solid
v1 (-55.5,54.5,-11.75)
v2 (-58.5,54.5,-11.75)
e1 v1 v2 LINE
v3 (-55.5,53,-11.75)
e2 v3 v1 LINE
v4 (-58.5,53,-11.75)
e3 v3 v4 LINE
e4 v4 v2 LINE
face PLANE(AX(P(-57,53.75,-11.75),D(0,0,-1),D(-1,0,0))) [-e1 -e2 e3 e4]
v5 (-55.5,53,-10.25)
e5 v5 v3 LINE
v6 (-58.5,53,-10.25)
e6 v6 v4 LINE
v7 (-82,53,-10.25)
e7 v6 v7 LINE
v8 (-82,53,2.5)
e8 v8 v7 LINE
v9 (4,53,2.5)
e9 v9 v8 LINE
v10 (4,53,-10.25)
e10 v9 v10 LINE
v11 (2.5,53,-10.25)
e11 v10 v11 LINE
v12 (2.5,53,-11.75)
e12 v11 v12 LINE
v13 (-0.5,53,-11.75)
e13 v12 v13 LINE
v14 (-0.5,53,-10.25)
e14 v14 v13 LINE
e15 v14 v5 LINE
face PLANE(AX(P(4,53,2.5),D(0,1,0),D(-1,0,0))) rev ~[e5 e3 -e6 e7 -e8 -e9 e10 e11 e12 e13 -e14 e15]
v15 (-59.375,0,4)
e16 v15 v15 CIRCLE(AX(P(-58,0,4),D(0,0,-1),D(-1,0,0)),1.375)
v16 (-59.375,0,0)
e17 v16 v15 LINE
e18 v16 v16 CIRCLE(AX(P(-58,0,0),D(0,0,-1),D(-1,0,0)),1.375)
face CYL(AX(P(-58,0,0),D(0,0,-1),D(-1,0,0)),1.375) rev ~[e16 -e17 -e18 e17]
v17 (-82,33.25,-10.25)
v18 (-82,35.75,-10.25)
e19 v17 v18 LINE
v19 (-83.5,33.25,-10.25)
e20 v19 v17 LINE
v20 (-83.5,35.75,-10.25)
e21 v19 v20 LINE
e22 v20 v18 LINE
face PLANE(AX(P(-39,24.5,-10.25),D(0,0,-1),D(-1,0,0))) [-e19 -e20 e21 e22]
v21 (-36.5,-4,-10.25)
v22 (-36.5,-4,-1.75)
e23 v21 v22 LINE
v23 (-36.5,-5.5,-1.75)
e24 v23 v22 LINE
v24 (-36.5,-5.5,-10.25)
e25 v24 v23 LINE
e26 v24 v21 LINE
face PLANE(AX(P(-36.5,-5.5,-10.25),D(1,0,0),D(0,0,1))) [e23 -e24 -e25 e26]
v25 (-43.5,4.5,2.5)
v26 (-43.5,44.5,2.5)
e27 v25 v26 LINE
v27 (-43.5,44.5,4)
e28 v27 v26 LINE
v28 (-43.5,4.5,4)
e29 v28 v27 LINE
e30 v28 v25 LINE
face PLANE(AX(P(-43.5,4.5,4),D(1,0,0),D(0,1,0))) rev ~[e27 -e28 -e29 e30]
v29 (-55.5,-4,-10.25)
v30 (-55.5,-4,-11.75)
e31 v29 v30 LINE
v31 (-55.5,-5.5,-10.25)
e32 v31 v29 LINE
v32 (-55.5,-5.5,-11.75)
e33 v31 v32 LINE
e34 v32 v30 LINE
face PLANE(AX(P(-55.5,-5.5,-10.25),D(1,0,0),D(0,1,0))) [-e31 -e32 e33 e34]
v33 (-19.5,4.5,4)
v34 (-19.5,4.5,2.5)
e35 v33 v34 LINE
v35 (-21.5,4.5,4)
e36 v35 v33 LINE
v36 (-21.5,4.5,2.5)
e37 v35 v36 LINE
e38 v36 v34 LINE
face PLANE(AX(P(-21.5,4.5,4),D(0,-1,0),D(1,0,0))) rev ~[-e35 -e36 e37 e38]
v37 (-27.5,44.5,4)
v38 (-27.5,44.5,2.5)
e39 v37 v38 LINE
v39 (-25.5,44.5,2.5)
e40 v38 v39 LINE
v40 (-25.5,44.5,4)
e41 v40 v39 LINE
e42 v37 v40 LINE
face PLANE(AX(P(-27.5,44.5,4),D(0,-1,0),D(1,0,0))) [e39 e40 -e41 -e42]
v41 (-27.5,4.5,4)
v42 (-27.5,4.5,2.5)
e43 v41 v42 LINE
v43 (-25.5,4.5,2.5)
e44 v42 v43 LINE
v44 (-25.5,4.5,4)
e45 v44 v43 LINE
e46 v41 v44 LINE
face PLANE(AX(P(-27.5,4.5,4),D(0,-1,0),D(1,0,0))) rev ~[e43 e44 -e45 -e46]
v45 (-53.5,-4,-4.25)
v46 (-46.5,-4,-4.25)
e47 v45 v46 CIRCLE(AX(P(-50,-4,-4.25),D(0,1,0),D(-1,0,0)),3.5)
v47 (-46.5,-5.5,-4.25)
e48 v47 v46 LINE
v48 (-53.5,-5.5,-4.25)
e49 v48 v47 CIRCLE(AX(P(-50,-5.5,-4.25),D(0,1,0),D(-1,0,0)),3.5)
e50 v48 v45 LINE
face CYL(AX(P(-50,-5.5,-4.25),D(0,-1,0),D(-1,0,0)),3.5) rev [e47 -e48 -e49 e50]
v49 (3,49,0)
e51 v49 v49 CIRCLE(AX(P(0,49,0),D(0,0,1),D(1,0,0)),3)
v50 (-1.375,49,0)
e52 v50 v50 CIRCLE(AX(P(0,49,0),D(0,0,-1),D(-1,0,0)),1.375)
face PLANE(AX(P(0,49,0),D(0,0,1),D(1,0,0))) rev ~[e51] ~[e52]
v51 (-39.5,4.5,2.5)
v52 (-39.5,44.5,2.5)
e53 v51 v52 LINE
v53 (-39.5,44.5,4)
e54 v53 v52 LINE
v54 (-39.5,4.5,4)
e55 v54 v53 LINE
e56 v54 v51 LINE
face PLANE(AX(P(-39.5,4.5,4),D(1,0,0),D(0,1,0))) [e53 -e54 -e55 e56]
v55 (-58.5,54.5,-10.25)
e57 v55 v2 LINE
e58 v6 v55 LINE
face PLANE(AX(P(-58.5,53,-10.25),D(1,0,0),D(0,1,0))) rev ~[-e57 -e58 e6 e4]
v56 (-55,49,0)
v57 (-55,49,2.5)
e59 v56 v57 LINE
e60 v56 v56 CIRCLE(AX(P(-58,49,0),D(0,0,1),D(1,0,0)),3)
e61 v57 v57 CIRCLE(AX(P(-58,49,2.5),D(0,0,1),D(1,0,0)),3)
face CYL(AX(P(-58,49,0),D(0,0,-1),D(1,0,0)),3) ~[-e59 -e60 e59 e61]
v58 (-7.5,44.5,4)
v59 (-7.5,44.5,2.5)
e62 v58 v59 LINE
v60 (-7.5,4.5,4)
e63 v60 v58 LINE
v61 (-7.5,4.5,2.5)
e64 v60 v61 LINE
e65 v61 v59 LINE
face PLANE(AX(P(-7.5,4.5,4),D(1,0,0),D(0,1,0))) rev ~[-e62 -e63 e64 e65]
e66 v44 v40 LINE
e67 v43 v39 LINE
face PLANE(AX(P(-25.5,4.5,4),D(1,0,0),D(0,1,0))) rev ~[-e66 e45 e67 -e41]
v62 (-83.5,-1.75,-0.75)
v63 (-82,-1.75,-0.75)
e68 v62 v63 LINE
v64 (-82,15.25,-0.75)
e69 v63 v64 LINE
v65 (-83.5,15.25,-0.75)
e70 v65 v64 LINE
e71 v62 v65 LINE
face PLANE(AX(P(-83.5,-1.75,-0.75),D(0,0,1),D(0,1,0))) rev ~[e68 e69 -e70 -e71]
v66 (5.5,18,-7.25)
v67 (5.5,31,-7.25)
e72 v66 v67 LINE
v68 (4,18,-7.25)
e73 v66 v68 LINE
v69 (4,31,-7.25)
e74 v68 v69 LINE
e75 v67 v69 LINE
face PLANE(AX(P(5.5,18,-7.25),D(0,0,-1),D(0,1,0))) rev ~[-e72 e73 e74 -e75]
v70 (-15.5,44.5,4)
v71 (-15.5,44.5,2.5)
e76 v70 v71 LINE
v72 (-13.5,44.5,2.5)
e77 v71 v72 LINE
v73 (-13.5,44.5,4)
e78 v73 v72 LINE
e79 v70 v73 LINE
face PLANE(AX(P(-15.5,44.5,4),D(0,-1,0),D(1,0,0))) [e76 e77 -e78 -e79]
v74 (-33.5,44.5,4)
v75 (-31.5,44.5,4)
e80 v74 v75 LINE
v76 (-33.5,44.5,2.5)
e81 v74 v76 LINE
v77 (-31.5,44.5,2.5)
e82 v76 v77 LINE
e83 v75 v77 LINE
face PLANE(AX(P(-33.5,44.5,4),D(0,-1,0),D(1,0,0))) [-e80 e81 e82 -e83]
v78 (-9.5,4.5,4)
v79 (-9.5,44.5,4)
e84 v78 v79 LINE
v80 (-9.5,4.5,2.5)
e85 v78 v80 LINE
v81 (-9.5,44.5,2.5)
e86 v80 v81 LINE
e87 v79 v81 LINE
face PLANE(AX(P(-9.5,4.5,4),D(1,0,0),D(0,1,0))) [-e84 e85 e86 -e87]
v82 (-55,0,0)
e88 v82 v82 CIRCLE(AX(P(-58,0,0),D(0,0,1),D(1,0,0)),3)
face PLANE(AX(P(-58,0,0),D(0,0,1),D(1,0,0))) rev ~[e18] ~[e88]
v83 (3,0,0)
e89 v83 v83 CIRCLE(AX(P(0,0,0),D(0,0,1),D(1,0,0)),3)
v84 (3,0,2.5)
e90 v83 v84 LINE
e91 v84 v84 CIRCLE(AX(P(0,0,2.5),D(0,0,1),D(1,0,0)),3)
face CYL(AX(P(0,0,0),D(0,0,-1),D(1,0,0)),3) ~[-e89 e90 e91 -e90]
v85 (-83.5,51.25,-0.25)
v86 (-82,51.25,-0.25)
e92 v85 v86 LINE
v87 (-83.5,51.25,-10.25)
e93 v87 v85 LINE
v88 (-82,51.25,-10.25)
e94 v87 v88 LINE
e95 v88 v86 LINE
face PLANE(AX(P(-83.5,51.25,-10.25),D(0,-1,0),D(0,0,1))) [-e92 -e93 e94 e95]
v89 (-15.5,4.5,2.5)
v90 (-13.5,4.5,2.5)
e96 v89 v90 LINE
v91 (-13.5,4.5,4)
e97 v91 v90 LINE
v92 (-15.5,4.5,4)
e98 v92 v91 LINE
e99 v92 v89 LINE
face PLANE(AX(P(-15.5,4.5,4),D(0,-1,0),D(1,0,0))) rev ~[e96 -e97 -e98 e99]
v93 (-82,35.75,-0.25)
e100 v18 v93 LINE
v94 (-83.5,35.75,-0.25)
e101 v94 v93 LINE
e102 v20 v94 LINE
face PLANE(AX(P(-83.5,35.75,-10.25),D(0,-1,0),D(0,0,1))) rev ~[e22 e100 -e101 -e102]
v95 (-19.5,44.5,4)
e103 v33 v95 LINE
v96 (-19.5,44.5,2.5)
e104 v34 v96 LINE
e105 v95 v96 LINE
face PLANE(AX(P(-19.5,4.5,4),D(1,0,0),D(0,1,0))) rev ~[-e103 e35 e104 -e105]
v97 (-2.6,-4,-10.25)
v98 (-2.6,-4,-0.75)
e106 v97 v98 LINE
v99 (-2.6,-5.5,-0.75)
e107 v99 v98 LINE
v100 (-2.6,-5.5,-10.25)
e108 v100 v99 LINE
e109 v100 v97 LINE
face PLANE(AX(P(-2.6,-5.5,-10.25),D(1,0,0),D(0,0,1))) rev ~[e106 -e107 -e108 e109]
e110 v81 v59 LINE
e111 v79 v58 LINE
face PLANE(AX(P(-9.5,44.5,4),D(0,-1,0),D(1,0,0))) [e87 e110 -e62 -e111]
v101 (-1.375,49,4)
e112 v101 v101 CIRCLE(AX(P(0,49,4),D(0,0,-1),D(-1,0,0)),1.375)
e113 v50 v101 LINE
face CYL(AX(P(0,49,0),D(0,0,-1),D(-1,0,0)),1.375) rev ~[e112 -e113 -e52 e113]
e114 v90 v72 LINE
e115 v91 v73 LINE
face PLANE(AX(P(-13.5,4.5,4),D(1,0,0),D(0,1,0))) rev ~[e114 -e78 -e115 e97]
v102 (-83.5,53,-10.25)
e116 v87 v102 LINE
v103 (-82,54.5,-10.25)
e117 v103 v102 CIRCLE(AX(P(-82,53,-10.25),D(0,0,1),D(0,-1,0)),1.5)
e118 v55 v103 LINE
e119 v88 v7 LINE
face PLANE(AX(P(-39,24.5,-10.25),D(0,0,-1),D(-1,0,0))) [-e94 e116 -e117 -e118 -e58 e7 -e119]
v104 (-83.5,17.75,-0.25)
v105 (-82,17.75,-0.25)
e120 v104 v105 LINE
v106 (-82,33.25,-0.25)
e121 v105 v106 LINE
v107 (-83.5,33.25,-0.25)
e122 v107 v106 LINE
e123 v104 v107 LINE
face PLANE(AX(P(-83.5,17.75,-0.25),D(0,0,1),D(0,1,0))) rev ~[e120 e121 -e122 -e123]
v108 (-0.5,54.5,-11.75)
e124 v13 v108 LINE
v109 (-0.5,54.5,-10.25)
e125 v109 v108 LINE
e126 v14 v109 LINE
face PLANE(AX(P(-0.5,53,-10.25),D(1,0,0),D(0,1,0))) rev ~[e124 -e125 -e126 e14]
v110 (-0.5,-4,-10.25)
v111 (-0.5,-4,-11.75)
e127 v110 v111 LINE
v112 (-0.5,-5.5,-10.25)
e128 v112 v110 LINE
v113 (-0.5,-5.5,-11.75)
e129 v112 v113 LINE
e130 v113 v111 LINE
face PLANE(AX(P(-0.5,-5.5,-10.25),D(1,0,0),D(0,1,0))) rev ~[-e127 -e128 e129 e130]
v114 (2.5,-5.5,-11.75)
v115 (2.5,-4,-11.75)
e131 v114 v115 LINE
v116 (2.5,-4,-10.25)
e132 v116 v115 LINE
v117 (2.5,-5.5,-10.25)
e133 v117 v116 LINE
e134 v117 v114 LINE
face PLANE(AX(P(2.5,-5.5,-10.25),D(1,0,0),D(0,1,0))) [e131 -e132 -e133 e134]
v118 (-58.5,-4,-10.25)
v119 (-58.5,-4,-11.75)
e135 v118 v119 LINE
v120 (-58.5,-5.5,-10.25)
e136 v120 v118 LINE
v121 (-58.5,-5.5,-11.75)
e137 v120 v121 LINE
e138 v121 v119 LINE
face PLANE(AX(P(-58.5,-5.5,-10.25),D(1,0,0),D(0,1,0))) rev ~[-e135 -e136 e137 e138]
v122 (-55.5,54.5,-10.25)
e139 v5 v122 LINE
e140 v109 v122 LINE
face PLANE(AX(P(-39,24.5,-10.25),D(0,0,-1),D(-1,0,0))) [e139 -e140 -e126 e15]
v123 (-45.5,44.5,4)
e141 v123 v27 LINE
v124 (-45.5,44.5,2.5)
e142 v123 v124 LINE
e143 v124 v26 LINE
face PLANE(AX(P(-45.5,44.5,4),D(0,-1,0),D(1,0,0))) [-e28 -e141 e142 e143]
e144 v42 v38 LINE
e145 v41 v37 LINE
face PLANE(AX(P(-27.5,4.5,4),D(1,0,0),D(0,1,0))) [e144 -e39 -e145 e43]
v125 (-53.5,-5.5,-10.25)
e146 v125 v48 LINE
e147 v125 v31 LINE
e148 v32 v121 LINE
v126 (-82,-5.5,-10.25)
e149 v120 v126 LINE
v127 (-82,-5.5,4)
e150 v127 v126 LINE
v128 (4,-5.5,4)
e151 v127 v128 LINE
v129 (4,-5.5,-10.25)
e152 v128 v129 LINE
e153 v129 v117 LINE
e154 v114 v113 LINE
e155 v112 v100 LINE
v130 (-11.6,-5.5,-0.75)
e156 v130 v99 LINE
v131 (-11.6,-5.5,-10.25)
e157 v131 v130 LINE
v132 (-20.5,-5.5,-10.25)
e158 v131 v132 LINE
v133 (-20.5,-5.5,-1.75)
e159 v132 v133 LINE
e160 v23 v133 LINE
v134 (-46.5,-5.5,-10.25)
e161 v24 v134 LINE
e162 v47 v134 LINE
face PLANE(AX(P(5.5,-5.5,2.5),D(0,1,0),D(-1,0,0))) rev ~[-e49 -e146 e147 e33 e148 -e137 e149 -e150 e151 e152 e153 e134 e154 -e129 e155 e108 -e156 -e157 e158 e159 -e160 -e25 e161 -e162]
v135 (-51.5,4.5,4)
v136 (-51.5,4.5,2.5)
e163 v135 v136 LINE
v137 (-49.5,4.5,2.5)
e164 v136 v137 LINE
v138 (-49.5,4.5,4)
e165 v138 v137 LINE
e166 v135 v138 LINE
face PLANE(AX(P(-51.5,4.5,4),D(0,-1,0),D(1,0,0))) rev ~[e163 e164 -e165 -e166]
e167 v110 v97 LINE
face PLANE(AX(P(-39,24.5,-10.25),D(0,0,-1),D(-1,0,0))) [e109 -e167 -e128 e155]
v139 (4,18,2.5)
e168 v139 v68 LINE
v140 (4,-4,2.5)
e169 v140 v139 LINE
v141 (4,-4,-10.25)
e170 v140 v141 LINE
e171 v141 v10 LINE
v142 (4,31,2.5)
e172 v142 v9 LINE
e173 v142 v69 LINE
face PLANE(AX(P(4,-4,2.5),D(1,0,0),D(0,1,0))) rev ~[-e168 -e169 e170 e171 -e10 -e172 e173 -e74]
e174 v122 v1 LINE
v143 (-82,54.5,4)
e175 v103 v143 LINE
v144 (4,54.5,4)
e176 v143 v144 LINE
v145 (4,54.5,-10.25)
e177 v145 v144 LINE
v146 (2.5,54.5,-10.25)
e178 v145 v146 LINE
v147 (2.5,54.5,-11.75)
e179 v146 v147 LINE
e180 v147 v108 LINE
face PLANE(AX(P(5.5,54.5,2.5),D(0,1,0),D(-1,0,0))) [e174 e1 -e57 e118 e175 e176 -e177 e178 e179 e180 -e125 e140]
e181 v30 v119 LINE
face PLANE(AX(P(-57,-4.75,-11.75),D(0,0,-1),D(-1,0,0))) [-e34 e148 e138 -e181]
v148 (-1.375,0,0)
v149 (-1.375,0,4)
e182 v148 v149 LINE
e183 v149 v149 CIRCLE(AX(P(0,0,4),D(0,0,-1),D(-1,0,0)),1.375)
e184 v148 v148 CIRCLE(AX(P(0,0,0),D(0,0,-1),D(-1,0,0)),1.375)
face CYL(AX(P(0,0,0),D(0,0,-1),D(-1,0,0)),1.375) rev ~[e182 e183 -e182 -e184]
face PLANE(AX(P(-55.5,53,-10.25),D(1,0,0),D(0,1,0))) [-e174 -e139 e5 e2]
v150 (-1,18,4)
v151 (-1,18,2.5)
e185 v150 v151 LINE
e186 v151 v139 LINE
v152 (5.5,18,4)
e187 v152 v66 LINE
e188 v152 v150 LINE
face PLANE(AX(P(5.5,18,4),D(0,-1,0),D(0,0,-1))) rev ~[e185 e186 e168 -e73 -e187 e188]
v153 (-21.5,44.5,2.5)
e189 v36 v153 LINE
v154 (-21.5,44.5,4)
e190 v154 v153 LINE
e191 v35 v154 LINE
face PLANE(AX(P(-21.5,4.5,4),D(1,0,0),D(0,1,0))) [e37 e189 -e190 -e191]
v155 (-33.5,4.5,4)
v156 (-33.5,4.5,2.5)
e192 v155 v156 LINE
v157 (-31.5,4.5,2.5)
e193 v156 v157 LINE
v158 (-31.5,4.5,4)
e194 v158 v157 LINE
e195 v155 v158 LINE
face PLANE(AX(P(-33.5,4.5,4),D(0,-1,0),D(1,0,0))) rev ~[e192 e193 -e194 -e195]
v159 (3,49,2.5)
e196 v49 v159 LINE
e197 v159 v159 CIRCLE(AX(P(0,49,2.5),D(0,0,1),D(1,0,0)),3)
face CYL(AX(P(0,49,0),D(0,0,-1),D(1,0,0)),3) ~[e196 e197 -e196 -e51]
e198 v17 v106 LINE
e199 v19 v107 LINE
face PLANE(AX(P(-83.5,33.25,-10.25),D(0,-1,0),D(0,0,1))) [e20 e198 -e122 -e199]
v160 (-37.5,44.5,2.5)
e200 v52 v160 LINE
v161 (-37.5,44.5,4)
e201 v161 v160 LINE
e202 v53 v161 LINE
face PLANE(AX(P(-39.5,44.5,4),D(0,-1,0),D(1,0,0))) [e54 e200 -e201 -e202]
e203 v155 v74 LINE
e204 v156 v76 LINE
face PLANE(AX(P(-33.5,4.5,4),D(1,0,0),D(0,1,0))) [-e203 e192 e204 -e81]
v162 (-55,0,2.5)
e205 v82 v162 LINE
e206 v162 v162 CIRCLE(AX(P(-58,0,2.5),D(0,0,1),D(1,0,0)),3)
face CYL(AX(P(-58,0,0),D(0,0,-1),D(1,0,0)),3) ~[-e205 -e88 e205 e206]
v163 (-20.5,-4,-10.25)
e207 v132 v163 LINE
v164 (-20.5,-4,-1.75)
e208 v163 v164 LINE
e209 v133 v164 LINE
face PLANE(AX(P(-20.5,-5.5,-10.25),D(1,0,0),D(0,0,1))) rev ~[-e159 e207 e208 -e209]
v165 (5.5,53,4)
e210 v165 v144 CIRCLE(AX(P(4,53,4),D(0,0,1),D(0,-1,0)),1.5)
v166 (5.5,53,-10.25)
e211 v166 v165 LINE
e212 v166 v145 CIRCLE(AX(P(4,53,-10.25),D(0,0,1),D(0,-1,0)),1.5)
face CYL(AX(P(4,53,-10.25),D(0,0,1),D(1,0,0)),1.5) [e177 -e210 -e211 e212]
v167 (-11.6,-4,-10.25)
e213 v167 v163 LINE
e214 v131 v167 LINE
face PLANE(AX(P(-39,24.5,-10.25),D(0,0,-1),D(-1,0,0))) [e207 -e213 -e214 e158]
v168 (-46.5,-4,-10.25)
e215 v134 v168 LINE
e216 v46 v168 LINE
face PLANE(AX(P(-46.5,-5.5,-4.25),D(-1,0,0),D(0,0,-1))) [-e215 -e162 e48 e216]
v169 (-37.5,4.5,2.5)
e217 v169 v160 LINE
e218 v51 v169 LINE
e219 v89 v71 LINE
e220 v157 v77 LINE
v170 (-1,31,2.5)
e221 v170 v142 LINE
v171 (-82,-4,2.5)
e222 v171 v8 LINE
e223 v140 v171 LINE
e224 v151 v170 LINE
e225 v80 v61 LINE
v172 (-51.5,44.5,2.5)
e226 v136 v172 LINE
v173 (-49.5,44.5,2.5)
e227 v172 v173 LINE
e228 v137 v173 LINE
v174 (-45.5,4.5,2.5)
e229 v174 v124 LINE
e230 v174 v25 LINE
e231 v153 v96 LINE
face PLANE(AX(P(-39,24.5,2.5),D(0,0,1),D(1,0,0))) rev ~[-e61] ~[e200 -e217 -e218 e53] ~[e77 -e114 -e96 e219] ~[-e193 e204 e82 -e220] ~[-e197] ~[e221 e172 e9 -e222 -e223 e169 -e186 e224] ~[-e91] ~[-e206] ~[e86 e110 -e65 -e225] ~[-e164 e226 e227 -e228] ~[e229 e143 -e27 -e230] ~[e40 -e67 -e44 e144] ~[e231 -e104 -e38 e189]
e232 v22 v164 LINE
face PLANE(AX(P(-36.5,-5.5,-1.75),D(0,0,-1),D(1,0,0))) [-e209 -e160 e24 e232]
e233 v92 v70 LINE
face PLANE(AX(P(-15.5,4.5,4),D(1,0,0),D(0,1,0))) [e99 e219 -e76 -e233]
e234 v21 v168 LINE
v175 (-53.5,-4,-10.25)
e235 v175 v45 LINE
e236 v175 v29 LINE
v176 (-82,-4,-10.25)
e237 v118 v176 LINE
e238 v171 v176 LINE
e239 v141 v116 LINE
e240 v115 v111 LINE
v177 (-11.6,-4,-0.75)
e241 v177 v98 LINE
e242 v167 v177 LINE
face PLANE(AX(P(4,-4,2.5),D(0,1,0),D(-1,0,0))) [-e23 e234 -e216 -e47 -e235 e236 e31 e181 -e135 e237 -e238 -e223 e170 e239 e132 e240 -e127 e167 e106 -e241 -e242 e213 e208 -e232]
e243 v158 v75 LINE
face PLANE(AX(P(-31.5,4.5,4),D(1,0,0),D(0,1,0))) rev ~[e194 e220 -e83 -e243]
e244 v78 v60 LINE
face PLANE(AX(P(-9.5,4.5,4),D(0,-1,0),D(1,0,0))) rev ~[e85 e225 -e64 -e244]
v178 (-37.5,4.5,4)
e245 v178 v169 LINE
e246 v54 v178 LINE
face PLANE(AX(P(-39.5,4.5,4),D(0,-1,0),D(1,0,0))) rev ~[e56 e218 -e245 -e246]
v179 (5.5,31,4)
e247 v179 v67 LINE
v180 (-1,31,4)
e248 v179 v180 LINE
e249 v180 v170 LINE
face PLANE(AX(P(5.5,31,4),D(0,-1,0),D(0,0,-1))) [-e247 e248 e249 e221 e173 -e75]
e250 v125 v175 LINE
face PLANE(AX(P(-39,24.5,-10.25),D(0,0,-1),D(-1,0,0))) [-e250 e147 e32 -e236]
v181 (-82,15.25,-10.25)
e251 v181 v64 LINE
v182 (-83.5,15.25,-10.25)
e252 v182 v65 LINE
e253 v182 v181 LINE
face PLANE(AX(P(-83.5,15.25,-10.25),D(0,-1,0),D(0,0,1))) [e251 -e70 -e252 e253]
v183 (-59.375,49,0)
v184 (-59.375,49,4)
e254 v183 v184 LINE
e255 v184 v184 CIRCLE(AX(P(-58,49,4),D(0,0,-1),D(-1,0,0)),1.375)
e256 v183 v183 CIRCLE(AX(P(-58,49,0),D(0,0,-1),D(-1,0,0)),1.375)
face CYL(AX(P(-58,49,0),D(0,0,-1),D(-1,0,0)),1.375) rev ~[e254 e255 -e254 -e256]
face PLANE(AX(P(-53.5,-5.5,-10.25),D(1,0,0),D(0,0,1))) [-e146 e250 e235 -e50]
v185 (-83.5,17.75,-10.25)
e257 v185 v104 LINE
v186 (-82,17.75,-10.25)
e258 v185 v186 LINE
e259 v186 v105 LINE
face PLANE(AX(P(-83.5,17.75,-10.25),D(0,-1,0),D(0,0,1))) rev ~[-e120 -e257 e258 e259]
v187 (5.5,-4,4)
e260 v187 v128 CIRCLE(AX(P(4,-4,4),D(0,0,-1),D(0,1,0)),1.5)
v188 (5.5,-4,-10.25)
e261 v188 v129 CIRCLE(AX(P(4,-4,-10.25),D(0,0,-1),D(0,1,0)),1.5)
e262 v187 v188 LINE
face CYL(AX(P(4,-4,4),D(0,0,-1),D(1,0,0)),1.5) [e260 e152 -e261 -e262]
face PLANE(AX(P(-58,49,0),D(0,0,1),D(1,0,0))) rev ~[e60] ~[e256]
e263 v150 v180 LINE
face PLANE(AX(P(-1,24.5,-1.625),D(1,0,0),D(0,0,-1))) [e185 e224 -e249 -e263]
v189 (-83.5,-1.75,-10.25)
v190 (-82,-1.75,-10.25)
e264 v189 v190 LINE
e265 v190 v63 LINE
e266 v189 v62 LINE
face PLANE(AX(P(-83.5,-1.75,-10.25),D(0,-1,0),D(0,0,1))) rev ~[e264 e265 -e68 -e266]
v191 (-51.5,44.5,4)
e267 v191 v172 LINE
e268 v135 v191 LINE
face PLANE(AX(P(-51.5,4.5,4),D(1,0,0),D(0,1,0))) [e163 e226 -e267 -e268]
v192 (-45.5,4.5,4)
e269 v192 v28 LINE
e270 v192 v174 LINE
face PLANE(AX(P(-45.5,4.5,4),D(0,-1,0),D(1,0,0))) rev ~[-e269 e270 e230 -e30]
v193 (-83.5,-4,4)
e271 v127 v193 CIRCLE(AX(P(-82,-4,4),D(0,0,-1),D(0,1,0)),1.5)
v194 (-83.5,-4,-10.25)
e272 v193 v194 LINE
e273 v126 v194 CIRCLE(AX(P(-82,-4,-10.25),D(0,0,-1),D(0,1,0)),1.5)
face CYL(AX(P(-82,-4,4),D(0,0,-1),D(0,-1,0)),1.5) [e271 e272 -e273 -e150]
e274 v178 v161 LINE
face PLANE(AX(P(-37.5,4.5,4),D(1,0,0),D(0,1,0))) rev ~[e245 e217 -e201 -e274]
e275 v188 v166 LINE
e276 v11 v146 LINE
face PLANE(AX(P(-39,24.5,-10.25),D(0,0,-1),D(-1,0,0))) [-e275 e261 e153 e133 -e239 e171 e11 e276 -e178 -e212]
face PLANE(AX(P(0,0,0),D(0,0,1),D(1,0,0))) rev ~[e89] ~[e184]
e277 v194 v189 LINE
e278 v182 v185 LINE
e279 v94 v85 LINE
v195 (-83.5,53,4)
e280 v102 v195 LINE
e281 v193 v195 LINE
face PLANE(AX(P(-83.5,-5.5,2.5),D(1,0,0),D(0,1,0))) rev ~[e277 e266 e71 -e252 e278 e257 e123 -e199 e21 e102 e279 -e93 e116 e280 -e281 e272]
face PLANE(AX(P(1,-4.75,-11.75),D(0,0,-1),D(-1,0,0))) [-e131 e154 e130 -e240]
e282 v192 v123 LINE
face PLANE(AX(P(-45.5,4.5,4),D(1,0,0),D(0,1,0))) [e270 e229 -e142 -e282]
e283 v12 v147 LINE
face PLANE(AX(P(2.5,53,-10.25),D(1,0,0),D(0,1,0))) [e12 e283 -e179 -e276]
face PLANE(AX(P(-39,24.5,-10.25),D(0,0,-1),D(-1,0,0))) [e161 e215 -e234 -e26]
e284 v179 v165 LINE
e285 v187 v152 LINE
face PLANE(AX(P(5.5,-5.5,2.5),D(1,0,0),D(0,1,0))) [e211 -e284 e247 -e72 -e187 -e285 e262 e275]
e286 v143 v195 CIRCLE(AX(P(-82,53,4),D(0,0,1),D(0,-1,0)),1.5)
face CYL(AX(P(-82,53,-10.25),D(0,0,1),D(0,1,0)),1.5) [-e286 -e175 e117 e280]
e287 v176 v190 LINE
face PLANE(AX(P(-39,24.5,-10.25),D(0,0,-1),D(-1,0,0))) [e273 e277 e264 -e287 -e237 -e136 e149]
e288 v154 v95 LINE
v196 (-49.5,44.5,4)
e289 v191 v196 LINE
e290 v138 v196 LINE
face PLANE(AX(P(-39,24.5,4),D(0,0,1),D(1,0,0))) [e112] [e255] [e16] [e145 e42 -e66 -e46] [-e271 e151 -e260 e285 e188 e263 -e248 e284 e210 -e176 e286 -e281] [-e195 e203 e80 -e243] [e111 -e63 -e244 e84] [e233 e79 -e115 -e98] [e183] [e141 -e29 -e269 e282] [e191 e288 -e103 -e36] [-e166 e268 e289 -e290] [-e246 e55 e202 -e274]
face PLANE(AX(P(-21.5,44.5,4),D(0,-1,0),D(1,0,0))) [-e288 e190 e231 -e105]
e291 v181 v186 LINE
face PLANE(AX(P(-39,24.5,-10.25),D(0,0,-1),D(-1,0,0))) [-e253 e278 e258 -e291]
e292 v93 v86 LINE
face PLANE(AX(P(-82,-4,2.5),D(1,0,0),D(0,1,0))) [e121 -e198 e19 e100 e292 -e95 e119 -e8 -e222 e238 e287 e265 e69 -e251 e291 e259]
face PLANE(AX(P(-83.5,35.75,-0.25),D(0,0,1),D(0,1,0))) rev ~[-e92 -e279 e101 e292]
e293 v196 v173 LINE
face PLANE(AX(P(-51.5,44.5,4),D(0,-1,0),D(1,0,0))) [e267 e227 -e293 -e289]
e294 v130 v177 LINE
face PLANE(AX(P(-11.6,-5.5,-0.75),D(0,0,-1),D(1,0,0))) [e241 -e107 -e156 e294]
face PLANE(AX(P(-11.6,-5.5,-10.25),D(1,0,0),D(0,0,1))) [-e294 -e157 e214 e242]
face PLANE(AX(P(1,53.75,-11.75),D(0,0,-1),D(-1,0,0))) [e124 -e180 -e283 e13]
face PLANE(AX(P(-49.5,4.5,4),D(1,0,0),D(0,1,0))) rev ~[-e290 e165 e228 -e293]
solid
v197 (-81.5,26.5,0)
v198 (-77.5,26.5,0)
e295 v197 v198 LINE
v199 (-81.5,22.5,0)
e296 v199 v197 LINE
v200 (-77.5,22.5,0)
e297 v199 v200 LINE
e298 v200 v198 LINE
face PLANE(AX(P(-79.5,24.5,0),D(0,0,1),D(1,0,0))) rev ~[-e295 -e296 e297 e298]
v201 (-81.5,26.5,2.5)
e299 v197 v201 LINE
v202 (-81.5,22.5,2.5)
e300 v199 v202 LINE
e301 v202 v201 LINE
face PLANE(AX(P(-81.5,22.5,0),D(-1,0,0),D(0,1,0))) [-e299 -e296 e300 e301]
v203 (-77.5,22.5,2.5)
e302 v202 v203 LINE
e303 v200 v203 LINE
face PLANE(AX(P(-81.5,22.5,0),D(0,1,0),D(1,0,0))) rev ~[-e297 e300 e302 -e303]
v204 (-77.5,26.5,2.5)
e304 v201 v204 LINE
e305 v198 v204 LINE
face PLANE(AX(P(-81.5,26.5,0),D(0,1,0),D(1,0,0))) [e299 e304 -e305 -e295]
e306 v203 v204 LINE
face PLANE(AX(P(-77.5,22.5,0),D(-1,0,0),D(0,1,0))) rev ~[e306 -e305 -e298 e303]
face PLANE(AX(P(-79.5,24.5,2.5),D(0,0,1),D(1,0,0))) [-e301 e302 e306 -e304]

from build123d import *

# Parameters (mm, degrees)
SKETCH1_R             = 3
BOSS_EXTRUDE1_DEPTH   = 2.5
BOSS_EXTRUDE1_2_DEPTH = 2.5
BOSS_EXTRUDE1_3_DEPTH = 2.5
BOSS_EXTRUDE1_4_DEPTH = 2.5
SKETCH1_W             = 4
SKETCH1_H             = 4
BOSS_EXTRUDE1_5_DEPTH = 2.5
SKETCH2_W             = 89
SKETCH2_H             = 60
BOSS_EXTRUDE2_DEPTH   = 1.5
SKETCH3_W             = 89
SKETCH3_H             = 60
SKETCH3_W_2           = 86
SKETCH3_H_2           = 57
BOSS_EXTRUDE3_DEPTH   = 12.75
SKETCH4_W             = 10
SKETCH4_H             = 15.5
SKETCH4_W_2           = 9.5
SKETCH4_H_2           = 17
CUT_EXTRUDE1_DEPTH    = 1.5
SKETCH5_W             = 16
SKETCH5_H             = 8.5
SKETCH5_W_2           = 9
SKETCH5_H_2           = 9.5
CUT_EXTRUDE2_DEPTH    = 1.5
SKETCH6_W             = 11.25
SKETCH6_H             = 13
CUT_EXTRUDE3_DEPTH    = 6.5
SKETCH7_R             = 1.375
CUT_EXTRUDE4_DEPTH    = 5
SKETCH10_W            = 2
SKETCH10_H            = 40
CUT_EXTRUDE7_DEPTH    = 15.25
FILLET2_R             = 1.5
SKETCH12_W            = 3
SKETCH12_H            = 1.5
BOSS_EXTRUDE4_DEPTH   = 1.5


with BuildPart() as part:
    # Sketch1 → Boss-Extrude1 (new body)
    with BuildSketch(Plane.XY):
        Circle(SKETCH1_R)
    extrude(amount=BOSS_EXTRUDE1_DEPTH)



with BuildPart() as body_2:
    # Sketch1 → Boss-Extrude1 2 (new body)
    with BuildSketch(Plane.XY):
        with Locations((0, 49)):
            Circle(SKETCH1_R)
    extrude(amount=BOSS_EXTRUDE1_2_DEPTH)


with BuildPart() as body_3:
    # Sketch1 → Boss-Extrude1 3 (new body)
    with BuildSketch(Plane.XY):
        with Locations((-58, 0)):
            Circle(SKETCH1_R)
    extrude(amount=BOSS_EXTRUDE1_3_DEPTH)


with BuildPart() as body_4:
    # Sketch1 → Boss-Extrude1 4 (new body)
    with BuildSketch(Plane.XY):
        with Locations((-58, 49)):
            Circle(SKETCH1_R)
    extrude(amount=BOSS_EXTRUDE1_4_DEPTH)


with BuildPart() as body_5:
    # Sketch1 → Boss-Extrude1 5 (new body)
    with BuildSketch(Plane.XY):
        with Locations((-79.5, 24.5)):
            Rectangle(SKETCH1_W, SKETCH1_H)
    extrude(amount=BOSS_EXTRUDE1_5_DEPTH)


with BuildPart() as part_1:
    add(part.part)

    add(body_2.part)  # Boss-Extrude2 merges body 2

    add(body_3.part)  # Boss-Extrude2 merges body 3

    add(body_4.part)  # Boss-Extrude2 merges body 4
    # Sketch2 → Boss-Extrude2 (add)
    with BuildSketch(Plane.XY.offset(2.5)):
        with Locations((-39, 24.5)):
            Rectangle(SKETCH2_W, SKETCH2_H)
    extrude(amount=BOSS_EXTRUDE2_DEPTH)

    # Sketch3 → Boss-Extrude3 (add)
    with BuildSketch(Plane(origin=(0, 0, 2.5), x_dir=(-1, 0, 0), z_dir=(0, 0, -1))):
        with Locations((39, 24.5)):
            Rectangle(SKETCH3_W, SKETCH3_H)
        with Locations((39, 24.5)):
            Rectangle(SKETCH3_W_2, SKETCH3_H_2, mode=Mode.SUBTRACT)
    extrude(amount=BOSS_EXTRUDE3_DEPTH)

    # Sketch4 → Cut-Extrude1 (cut)
    with BuildSketch(Plane.ZY.offset(83.5)):
        with Locations((-5.25, 43.5)):
            Rectangle(SKETCH4_W, SKETCH4_H)
        with Locations((-5.25, 25.5)):
            Rectangle(SKETCH4_W, SKETCH4_H)
        with Locations((-5.5, 6.75)):
            Rectangle(SKETCH4_W_2, SKETCH4_H_2)
    extrude(amount=-CUT_EXTRUDE1_DEPTH, mode=Mode.SUBTRACT)

    # Sketch5 → Cut-Extrude2 (cut)
    with BuildSketch(Plane.XZ.offset(5.5)):
        with BuildLine():
            Line((-46.5, -10.25), (-53.5, -10.25))
            Line((-53.5, -10.25), (-53.5, -4.25))
            ThreePointArc((-53.5, -4.25), (-50, -0.75), (-46.5, -4.25))
            Line((-46.5, -4.25), (-46.5, -10.25))
        make_face()
        with Locations((-28.5, -6)):
            Rectangle(SKETCH5_W, SKETCH5_H)
        with Locations((-7.1, -5.5)):
            Rectangle(SKETCH5_W_2, SKETCH5_H_2)
    extrude(amount=-CUT_EXTRUDE2_DEPTH, mode=Mode.SUBTRACT)

    # Sketch6 → Cut-Extrude3 (cut)
    with BuildSketch(Plane(origin=(5.5, 0, 0), x_dir=(0, 0, -1), z_dir=(1, 0, 0))):
        with Locations((1.625, 24.5)):
            Rectangle(SKETCH6_W, SKETCH6_H)
    extrude(amount=-CUT_EXTRUDE3_DEPTH, mode=Mode.SUBTRACT)

    # Sketch7 → Cut-Extrude4 (cut, through all)
    with BuildSketch(Plane(origin=(0, 0, 0), x_dir=(-1, 0, 0), z_dir=(0, 0, -1))):
        Circle(SKETCH7_R)
        with Locations((0, 49)):
            Circle(SKETCH7_R)
        with Locations((58, 49)):
            Circle(SKETCH7_R)
        with Locations((58, 0)):
            Circle(SKETCH7_R)
    extrude(amount=-CUT_EXTRUDE4_DEPTH, mode=Mode.SUBTRACT)

    # Sketch10 → Cut-Extrude7 (cut, through all)
    with BuildSketch(Plane.XY.offset(4)):
        with Locations((-8.5, 24.5)):
            Rectangle(SKETCH10_W, SKETCH10_H)
        with Locations((-14.5, 24.5)):
            Rectangle(SKETCH10_W, SKETCH10_H)
        with Locations((-20.5, 24.5)):
            Rectangle(SKETCH10_W, SKETCH10_H)
        with Locations((-26.5, 24.5)):
            Rectangle(SKETCH10_W, SKETCH10_H)
        with Locations((-32.5, 24.5)):
            Rectangle(SKETCH10_W, SKETCH10_H)
        with Locations((-38.5, 24.5)):
            Rectangle(SKETCH10_W, SKETCH10_H)
        with Locations((-44.5, 24.5)):
            Rectangle(SKETCH10_W, SKETCH10_H)
        with Locations((-50.5, 24.5)):
            Rectangle(SKETCH10_W, SKETCH10_H)
    extrude(amount=-CUT_EXTRUDE7_DEPTH, mode=Mode.SUBTRACT)

    # Fillet2
    fillet2_edges = [part_1.edges().sort_by_distance(p)[0] for p in [
        (5.5, -5.5, -3.125),
        (5.5, 54.5, -3.125),
        (-83.5, 54.5, -3.125),
        (-83.5, -5.5, -3.125),
    ]]
    fillet(fillet2_edges, radius=FILLET2_R)

    # Sketch12 → Boss-Extrude4 (add)
    with BuildSketch(Plane(origin=(0, 0, -10.25), x_dir=(-1, 0, 0), z_dir=(0, 0, -1))):
        with Locations((-1, 53.75)):
            Rectangle(SKETCH12_W, SKETCH12_H)
        with Locations((57, 53.75)):
            Rectangle(SKETCH12_W, SKETCH12_H)
        with Locations((57, -4.75)):
            Rectangle(SKETCH12_W, SKETCH12_H)
        with Locations((-1, -4.75)):
            Rectangle(SKETCH12_W, SKETCH12_H)
    extrude(amount=BOSS_EXTRUDE4_DEPTH)


solid = Compound([body_5.part, part_1.part])
